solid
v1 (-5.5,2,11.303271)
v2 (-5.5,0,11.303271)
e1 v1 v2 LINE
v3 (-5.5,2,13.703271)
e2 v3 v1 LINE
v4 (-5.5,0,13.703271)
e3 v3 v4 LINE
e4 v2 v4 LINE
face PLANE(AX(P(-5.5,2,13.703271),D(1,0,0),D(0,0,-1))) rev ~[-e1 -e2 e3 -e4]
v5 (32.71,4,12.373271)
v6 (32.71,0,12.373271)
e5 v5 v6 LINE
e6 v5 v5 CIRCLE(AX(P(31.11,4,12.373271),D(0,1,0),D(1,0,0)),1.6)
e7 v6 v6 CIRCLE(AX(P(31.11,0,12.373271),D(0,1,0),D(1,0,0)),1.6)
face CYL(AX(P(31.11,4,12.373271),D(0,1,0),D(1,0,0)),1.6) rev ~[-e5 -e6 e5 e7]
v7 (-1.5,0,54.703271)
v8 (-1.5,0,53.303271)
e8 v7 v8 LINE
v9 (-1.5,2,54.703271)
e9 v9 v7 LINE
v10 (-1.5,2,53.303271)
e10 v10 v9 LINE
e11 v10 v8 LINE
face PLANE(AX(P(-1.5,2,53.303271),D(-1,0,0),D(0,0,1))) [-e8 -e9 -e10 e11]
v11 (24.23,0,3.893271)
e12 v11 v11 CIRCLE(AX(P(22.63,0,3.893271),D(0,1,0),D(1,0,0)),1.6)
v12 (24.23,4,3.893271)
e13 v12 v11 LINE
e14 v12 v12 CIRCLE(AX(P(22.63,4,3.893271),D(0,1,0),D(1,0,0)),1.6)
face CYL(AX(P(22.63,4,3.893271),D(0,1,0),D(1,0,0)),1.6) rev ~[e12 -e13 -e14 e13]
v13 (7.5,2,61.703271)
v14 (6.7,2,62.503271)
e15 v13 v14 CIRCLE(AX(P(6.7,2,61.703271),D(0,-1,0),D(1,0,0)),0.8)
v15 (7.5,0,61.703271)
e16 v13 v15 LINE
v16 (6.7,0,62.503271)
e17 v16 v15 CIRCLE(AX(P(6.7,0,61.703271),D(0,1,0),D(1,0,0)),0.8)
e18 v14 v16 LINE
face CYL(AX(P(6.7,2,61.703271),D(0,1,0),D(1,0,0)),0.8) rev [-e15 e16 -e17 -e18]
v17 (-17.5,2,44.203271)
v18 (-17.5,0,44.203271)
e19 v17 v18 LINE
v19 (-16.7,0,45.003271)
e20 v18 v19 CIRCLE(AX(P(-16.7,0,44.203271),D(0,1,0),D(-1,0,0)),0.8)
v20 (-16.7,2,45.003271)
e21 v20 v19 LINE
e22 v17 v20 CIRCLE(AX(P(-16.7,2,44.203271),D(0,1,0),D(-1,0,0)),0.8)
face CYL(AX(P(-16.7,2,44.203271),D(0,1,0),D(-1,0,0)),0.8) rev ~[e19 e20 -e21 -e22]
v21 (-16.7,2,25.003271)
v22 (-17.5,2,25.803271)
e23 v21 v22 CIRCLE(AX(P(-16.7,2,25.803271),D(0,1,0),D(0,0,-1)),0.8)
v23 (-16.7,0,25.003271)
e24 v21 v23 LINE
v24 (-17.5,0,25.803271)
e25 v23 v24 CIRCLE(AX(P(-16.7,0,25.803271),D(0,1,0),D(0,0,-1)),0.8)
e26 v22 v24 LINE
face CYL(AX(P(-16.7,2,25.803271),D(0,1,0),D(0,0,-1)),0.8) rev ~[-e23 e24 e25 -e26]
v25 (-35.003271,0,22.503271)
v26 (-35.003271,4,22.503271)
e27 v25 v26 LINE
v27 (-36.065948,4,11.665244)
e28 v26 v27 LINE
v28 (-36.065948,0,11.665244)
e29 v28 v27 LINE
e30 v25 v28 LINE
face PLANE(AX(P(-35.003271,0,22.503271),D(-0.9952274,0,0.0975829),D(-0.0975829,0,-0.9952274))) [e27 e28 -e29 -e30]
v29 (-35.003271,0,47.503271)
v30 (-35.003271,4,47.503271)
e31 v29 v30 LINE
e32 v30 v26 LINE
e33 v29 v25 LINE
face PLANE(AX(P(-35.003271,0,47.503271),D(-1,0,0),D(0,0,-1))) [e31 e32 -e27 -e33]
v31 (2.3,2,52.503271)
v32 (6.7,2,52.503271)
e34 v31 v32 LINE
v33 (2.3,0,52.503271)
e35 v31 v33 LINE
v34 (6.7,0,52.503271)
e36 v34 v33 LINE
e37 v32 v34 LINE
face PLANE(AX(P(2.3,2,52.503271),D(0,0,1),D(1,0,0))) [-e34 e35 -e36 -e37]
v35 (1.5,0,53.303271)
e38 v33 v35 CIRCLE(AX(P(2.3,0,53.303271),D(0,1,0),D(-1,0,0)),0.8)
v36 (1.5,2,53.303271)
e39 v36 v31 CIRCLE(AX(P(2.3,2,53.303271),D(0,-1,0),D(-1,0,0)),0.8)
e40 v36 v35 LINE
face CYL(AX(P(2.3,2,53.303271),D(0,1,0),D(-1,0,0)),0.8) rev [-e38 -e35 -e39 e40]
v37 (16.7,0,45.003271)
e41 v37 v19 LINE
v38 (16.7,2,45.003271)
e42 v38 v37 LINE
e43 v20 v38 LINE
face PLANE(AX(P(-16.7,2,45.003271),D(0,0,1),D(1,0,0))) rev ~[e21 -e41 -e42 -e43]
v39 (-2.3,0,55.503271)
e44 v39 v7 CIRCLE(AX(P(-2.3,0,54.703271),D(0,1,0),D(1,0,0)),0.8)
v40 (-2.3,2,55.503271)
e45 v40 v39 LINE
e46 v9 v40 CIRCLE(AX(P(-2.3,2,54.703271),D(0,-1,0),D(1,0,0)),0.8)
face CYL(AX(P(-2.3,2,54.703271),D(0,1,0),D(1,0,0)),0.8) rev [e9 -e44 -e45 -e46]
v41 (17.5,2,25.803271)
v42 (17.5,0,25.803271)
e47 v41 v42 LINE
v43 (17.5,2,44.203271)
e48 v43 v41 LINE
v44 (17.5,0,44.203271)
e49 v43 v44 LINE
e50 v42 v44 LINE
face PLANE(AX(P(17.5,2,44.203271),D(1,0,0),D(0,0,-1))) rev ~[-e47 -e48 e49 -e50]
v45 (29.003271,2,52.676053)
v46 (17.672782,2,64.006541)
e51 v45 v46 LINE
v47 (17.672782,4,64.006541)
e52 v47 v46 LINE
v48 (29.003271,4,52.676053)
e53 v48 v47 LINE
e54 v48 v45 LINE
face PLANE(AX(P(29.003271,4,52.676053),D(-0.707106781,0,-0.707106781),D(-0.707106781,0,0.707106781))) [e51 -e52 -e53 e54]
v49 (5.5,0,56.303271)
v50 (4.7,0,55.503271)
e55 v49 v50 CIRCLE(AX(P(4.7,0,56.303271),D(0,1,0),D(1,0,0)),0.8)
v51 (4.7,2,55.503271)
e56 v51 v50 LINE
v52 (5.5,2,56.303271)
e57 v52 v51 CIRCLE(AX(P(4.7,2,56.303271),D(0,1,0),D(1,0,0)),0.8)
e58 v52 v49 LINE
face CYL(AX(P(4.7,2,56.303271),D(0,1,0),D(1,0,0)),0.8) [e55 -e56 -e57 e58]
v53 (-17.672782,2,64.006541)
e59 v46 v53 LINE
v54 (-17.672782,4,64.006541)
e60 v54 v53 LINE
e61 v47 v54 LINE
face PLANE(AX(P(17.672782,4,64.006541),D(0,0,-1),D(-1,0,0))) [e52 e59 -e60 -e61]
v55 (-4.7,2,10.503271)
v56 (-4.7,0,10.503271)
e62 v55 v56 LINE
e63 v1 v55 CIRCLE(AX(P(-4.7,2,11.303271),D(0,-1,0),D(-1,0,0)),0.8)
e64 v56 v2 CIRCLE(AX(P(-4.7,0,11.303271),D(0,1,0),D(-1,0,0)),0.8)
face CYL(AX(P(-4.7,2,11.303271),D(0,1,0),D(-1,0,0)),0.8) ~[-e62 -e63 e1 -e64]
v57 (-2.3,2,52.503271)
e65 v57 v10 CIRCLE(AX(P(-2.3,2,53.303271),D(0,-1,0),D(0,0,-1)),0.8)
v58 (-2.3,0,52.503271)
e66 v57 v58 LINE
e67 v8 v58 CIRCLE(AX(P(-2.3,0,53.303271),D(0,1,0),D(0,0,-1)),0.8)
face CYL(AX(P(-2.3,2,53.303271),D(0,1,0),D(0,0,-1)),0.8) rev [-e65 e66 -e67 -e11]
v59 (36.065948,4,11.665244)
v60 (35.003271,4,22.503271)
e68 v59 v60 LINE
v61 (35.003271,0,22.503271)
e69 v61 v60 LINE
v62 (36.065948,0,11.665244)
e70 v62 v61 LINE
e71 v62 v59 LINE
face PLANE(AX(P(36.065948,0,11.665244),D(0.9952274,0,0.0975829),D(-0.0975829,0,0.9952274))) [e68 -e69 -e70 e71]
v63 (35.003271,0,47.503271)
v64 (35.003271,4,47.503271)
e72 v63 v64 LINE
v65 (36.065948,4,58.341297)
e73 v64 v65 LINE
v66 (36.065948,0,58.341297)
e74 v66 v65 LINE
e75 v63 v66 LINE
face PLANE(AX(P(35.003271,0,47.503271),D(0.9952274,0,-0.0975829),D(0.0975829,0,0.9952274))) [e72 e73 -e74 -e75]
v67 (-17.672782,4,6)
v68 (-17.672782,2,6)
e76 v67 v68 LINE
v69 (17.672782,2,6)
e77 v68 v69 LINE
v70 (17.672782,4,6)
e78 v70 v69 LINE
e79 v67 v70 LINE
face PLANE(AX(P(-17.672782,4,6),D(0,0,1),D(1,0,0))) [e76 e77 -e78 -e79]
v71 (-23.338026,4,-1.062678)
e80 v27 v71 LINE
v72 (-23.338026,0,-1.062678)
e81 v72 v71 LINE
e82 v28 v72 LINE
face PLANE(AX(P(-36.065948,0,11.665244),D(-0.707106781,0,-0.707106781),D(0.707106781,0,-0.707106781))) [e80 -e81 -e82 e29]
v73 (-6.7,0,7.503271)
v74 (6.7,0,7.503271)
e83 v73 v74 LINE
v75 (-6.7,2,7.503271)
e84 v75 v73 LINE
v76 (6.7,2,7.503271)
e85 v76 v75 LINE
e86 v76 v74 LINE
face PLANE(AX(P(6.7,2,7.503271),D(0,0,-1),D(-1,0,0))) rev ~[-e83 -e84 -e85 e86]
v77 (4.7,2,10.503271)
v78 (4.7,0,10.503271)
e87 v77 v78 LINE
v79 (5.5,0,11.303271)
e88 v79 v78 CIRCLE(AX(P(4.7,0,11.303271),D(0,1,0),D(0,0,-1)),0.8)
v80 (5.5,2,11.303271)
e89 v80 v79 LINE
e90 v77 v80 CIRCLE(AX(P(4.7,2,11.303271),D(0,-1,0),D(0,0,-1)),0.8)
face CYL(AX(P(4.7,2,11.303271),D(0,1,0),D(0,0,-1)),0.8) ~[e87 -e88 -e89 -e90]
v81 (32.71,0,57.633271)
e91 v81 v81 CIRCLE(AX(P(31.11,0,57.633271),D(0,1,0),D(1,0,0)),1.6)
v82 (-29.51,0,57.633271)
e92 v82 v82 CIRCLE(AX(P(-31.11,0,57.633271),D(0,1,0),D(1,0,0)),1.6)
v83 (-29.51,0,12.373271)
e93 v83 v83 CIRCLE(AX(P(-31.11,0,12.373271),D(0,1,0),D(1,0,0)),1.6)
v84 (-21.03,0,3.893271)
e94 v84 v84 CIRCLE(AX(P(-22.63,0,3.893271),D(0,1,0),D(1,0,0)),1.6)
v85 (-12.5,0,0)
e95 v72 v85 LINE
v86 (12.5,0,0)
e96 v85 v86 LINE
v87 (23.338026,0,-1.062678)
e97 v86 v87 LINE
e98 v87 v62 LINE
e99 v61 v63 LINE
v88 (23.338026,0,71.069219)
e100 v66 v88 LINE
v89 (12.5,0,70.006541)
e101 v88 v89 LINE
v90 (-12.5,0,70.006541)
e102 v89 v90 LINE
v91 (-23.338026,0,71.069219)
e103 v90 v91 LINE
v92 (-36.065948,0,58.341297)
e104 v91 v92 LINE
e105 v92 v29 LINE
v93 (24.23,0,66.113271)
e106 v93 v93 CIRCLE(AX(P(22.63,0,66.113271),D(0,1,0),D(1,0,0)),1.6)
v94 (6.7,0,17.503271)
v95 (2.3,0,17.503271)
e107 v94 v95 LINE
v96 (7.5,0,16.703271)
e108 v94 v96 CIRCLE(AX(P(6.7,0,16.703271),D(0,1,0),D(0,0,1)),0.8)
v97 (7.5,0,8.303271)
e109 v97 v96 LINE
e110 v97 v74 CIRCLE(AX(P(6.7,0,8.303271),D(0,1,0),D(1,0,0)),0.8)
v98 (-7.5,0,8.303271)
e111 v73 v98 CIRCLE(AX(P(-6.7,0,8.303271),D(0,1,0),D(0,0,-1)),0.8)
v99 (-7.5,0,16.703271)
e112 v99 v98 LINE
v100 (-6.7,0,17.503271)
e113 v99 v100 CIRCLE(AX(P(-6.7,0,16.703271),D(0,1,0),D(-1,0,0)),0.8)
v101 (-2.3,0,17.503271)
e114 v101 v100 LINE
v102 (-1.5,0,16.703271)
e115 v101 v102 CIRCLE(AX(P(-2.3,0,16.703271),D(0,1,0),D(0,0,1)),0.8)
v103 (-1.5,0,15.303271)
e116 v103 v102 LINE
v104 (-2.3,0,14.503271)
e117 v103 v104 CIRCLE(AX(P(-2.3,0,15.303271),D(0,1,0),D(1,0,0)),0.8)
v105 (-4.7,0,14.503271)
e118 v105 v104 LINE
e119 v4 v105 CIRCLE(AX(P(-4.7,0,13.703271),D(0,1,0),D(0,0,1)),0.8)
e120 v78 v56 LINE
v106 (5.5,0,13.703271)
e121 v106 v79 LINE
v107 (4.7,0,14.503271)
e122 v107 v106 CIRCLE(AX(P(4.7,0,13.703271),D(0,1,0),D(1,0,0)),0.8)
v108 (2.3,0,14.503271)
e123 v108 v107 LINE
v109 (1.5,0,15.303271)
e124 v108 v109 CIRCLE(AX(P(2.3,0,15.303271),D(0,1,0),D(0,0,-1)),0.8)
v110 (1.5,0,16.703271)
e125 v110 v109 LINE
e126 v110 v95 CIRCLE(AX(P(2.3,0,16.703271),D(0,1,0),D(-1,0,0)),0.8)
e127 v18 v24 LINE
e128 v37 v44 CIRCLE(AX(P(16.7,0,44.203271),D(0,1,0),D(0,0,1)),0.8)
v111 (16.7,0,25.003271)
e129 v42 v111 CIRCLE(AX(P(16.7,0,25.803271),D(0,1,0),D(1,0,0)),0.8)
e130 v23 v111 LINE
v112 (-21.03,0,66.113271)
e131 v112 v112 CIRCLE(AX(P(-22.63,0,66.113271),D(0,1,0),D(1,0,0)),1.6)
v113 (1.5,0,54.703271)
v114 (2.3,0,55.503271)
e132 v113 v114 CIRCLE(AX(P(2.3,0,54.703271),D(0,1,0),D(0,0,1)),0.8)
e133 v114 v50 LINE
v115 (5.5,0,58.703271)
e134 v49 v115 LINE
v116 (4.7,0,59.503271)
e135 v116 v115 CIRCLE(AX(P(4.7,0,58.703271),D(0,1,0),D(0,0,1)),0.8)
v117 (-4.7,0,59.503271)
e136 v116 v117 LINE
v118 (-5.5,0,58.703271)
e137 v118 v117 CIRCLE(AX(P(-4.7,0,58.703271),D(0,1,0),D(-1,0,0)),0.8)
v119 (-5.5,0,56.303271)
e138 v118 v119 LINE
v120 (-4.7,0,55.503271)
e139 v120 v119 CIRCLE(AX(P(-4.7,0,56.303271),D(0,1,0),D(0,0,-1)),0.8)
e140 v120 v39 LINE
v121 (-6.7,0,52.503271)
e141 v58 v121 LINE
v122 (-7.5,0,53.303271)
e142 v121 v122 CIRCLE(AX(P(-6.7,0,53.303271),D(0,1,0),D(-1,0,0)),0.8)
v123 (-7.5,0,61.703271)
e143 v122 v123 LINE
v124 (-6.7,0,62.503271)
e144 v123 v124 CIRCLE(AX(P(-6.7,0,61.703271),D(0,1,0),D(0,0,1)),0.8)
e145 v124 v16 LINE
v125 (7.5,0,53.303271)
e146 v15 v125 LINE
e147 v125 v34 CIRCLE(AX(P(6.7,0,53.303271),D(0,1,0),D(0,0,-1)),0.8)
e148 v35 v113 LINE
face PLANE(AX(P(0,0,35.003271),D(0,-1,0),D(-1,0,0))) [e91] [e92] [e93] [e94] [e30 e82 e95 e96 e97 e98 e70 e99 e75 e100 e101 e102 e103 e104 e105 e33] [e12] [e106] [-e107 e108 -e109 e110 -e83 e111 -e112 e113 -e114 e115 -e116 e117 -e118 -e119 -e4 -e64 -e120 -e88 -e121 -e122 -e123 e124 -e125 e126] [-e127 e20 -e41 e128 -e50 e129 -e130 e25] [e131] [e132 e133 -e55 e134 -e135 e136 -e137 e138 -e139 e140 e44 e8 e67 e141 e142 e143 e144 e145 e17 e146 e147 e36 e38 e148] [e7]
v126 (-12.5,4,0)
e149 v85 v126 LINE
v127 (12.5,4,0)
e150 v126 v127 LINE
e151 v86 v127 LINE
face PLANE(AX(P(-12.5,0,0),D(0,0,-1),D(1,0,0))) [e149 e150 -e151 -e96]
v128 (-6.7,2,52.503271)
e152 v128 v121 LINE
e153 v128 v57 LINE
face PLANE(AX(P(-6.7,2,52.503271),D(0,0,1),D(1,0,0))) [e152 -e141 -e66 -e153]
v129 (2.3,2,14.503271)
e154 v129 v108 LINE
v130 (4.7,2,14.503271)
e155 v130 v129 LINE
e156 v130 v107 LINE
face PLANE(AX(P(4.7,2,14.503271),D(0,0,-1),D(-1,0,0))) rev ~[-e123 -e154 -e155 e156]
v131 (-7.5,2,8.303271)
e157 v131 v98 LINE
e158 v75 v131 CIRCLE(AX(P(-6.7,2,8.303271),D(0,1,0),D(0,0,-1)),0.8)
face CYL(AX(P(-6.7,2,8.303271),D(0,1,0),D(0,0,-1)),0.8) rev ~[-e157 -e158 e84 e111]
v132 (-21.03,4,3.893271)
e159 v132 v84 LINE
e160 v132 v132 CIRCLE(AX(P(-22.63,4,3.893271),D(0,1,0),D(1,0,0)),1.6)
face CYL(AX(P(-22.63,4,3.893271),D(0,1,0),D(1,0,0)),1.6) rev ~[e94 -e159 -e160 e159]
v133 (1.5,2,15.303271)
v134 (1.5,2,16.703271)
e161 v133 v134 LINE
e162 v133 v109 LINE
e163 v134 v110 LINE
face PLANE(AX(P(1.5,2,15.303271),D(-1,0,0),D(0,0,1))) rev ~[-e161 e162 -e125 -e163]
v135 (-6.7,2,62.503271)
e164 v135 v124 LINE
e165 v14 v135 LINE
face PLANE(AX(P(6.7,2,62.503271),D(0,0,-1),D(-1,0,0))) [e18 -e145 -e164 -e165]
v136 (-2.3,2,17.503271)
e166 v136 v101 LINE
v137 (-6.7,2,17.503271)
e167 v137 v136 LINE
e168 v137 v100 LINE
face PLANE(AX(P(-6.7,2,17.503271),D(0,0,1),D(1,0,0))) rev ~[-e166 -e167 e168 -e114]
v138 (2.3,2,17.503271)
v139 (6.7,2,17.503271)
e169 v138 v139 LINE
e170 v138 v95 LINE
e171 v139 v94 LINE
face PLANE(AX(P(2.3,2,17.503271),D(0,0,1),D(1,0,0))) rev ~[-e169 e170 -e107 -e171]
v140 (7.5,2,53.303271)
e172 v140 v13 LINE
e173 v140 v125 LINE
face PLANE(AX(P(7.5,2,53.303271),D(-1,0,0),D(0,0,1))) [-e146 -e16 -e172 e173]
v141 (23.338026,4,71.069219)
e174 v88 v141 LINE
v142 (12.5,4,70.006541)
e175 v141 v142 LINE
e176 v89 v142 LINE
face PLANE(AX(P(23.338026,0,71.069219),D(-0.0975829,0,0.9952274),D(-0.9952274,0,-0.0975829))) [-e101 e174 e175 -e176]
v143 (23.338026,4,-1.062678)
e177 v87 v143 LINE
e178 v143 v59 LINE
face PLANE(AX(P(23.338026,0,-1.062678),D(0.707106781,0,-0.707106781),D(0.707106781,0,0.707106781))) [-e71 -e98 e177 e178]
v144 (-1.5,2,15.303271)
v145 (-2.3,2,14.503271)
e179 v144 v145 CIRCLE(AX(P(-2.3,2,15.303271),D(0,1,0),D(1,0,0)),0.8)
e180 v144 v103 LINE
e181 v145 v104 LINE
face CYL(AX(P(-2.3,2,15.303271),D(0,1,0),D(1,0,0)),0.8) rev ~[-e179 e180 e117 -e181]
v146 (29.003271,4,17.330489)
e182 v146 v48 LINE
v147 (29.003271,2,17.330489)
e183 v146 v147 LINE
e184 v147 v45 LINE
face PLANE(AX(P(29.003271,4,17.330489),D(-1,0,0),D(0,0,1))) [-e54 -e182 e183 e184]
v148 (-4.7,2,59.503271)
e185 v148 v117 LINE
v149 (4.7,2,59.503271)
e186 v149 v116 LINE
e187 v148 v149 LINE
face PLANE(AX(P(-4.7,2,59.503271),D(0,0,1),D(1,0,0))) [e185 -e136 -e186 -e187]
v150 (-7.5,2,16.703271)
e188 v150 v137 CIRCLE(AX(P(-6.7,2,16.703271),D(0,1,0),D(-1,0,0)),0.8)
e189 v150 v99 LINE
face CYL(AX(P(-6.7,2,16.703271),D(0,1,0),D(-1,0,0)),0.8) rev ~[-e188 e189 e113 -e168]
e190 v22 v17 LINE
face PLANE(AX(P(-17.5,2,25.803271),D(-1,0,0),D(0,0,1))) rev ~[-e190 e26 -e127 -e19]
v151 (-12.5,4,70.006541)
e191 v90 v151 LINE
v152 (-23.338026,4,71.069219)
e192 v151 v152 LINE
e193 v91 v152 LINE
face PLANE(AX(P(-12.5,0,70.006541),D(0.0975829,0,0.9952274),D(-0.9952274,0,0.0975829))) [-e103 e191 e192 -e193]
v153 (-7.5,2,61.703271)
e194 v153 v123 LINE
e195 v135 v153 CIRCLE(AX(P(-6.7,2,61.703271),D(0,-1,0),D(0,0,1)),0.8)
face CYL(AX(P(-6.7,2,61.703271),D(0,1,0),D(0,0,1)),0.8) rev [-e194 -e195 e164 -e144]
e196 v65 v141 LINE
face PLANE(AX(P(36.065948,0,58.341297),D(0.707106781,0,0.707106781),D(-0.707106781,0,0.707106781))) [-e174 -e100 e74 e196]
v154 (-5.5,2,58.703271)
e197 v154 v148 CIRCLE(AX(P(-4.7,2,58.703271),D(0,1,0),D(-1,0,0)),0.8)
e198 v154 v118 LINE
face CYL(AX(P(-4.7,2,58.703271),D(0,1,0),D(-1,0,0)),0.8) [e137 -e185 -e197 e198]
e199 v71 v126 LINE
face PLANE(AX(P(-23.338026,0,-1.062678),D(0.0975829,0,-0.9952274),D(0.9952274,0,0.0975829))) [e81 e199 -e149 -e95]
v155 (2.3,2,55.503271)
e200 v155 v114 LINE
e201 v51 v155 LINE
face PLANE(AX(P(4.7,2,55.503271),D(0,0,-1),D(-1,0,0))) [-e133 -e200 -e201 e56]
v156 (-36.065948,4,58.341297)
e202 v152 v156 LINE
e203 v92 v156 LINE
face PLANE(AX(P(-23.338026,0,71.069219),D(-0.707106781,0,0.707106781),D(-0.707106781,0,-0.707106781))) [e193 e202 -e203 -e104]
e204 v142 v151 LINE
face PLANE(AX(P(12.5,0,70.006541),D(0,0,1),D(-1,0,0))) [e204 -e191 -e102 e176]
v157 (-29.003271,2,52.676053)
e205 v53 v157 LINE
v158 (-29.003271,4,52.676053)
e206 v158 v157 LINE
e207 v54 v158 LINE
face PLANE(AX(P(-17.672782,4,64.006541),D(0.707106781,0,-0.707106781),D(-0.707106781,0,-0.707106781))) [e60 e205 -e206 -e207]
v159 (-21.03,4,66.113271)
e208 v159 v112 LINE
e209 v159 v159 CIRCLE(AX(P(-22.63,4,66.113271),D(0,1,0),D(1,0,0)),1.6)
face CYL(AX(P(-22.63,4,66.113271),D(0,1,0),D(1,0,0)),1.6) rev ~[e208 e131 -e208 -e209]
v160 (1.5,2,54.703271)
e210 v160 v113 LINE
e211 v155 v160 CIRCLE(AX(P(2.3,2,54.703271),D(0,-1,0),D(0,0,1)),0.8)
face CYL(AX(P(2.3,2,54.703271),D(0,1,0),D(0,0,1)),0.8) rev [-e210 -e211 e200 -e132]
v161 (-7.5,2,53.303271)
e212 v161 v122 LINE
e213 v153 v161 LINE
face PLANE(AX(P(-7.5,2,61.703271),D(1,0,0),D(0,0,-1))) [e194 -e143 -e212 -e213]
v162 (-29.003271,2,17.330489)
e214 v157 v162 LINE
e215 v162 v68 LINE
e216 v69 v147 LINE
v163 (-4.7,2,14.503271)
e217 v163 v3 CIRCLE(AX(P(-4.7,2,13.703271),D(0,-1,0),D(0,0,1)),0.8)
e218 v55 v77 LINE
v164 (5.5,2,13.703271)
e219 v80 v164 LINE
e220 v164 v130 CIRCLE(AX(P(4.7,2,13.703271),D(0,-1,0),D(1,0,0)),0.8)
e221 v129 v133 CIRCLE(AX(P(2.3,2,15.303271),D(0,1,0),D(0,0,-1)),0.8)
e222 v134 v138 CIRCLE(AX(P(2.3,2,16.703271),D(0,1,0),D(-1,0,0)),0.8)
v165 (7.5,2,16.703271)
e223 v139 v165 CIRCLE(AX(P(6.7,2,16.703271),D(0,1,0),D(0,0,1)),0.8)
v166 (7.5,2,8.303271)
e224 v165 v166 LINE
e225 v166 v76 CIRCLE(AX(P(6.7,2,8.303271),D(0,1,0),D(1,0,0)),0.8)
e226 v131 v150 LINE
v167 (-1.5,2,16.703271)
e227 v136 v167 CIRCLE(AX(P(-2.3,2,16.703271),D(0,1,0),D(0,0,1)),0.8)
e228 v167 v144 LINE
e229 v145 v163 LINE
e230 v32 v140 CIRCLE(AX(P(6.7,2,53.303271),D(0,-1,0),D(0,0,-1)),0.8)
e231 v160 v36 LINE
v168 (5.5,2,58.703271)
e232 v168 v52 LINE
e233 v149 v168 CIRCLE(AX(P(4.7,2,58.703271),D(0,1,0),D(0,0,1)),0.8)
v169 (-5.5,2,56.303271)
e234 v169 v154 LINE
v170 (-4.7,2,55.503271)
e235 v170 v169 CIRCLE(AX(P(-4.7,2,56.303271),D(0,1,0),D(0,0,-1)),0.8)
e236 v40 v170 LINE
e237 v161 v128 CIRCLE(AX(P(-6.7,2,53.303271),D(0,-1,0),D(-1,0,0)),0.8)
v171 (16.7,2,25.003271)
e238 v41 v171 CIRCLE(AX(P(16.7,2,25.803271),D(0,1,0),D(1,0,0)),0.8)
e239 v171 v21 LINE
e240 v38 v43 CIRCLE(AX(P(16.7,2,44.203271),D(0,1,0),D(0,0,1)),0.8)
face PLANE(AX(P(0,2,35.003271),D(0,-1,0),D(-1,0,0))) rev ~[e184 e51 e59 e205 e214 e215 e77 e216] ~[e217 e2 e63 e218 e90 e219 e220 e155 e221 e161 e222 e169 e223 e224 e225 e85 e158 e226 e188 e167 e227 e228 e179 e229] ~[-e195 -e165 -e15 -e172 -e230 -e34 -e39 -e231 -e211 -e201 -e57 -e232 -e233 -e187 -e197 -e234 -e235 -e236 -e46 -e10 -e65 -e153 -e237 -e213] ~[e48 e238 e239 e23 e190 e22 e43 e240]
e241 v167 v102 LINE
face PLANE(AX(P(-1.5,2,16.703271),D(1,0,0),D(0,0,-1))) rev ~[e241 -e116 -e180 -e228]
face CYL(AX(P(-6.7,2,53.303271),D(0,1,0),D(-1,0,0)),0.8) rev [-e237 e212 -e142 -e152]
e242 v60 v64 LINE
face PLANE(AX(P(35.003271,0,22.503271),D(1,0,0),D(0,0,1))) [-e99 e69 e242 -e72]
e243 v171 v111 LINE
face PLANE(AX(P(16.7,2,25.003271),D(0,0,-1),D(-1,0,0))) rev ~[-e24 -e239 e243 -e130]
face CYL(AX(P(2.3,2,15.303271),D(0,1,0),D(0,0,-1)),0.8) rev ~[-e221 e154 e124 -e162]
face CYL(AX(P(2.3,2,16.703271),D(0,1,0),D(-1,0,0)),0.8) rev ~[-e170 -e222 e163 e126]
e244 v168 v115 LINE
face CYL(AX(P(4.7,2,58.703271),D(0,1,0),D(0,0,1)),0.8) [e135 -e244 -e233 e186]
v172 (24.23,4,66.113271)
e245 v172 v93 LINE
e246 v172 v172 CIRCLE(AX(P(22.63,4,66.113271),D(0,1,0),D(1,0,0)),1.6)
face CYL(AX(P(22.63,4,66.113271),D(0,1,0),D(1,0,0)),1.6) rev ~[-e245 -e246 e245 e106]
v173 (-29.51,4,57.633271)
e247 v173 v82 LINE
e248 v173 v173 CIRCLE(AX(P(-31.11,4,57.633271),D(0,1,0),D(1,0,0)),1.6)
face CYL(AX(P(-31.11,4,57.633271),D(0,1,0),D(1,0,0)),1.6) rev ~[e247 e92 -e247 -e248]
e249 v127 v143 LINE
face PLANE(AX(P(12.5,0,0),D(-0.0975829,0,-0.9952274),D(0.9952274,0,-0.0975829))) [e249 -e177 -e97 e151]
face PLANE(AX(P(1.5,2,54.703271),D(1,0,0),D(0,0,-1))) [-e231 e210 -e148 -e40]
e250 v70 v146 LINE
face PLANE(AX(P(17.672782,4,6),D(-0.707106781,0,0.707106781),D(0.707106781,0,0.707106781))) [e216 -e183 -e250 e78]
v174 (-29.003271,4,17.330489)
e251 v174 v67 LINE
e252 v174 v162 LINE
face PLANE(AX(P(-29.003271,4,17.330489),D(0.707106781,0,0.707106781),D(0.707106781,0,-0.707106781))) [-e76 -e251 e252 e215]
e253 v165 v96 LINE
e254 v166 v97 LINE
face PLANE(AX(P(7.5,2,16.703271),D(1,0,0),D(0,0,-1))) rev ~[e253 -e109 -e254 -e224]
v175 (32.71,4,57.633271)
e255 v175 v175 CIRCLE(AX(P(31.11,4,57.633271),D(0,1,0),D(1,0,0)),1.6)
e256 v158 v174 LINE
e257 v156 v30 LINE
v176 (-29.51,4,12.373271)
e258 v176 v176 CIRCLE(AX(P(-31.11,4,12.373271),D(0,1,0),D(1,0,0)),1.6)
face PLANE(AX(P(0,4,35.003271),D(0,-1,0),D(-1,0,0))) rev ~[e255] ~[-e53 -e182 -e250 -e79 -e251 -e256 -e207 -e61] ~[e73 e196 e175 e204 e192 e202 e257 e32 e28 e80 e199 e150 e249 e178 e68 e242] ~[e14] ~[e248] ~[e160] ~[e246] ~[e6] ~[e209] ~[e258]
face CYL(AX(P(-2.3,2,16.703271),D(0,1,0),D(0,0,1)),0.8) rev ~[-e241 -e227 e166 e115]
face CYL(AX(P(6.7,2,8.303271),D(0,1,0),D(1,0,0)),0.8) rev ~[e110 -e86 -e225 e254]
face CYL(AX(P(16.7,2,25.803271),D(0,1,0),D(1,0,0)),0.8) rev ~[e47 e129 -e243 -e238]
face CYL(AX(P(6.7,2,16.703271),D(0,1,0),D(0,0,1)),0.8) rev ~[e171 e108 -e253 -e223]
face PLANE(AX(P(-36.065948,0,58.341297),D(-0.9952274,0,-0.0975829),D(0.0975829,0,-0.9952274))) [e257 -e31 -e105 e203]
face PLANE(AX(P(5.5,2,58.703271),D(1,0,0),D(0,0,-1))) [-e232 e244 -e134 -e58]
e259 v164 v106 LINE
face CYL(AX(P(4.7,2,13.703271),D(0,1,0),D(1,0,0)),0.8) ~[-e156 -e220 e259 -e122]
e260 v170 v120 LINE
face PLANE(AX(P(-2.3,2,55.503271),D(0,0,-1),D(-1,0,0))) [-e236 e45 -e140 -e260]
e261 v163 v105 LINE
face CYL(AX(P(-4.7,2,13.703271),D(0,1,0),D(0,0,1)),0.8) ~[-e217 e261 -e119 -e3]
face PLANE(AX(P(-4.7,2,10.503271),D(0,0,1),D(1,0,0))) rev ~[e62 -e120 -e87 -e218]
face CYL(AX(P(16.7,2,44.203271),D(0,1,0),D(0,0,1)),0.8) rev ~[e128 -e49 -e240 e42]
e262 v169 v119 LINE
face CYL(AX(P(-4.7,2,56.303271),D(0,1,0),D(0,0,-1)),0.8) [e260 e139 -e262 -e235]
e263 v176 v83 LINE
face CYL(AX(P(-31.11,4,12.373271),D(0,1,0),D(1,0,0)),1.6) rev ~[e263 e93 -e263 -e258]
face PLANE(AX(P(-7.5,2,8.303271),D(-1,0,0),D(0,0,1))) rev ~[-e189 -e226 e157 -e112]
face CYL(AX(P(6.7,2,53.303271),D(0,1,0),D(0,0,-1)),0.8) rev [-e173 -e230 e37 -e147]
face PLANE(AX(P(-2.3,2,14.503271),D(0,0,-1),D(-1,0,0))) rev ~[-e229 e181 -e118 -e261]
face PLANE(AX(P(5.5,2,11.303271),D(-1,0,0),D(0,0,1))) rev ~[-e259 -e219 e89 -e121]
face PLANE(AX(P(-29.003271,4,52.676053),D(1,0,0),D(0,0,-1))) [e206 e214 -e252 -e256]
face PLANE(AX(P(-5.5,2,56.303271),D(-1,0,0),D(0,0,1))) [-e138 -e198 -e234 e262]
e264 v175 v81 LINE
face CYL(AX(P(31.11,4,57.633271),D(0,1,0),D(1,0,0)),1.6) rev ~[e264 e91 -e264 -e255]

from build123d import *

# Parameters (mm, degrees)
BOSS_EXTRUDE1_DEPTH = 4
SKETCH2_R           = 1.6
CUT_EXTRUDE1_DEPTH  = 5
CUT_EXTRUDE2_DEPTH  = 2
CUT_EXTRUDE3_DEPTH  = 3


with BuildPart() as part:
    # Sketch1 → Boss-Extrude1 (new body)
    with BuildSketch(Plane(origin=(0, 0, 0), x_dir=(1, 0, 0), z_dir=(0, 1, 0))):
        Polygon((-12.5, 0), (12.5, 0), (23.338026386, 1.062677778), (36.065948447, -11.665244283), (35.003270669, -22.503270669), (35.003270669, -47.503270669), (36.065948447, -58.341297055), (23.338026386, -71.069219116), (12.5, -70.006541338), (-12.5, -70.006541338), (-23.338026386, -71.069219116), (-36.065948447, -58.341297055), (-35.003270669, -47.503270669), (-35.003270669, -22.503270669), (-36.065948447, -11.665244283), (-23.338026386, 1.062677778), align=None)
    extrude(amount=BOSS_EXTRUDE1_DEPTH)

    # Sketch2 → Cut-Extrude1 (cut, through all)
    with BuildSketch(Plane(origin=(0, 4, 0), x_dir=(1, 0, 0), z_dir=(0, 1, 0))):
        with Locations((22.63, -3.893270669)):
            Circle(SKETCH2_R)
        with Locations((31.11, -12.373270669)):
            Circle(SKETCH2_R)
        with Locations((-31.11, -12.373270669)):
            Circle(SKETCH2_R)
        with Locations((-22.63, -3.893270669)):
            Circle(SKETCH2_R)
        with Locations((31.11, -57.633270669)):
            Circle(SKETCH2_R)
        with Locations((22.63, -66.113270669)):
            Circle(SKETCH2_R)
        with Locations((-22.63, -66.113270669)):
            Circle(SKETCH2_R)
        with Locations((-31.11, -57.633270669)):
            Circle(SKETCH2_R)
    extrude(amount=-CUT_EXTRUDE1_DEPTH, mode=Mode.SUBTRACT)

    # Sketch3 → Cut-Extrude2 (cut)
    with BuildSketch(Plane(origin=(0, 4, 0), x_dir=(1, 0, 0), z_dir=(0, 1, 0))):
        Polygon((-17.672782103, -6), (17.672782103, -6), (29.003270669, -17.330488566), (29.003270669, -52.676052772), (17.672782103, -64.006541338), (-17.672782103, -64.006541338), (-29.003270669, -52.676052772), (-29.003270669, -17.330488566), align=None)
    extrude(amount=-CUT_EXTRUDE2_DEPTH, mode=Mode.SUBTRACT)

    # Sketch4 → Cut-Extrude3 (cut, through all)
    with BuildSketch(Plane(origin=(0, 2, 0), x_dir=(1, 0, 0), z_dir=(0, 1, 0))):
        with BuildLine():
            Line((-16.7, -45.003270669), (16.7, -45.003270669))
            ThreePointArc((16.7, -45.003270669), (17.265685425, -44.768956094), (17.5, -44.203270669))
            Line((17.5, -44.203270669), (17.5, -25.803270669))
            ThreePointArc((17.5, -25.803270669), (17.265685425, -25.237585244), (16.7, -25.003270669))
            Line((16.7, -25.003270669), (-16.7, -25.003270669))
            ThreePointArc((-16.7, -25.003270669), (-17.265685425, -25.237585244), (-17.5, -25.803270669))
            Line((-17.5, -25.803270669), (-17.5, -44.203270669))
            ThreePointArc((-17.5, -44.203270669), (-17.265685425, -44.768956094), (-16.7, -45.003270669))
        make_face()
        with BuildLine():
            Line((-1.5, -16.703270669), (-1.5, -15.303270669))
            ThreePointArc((-1.5, -15.303270669), (-1.734314575, -14.737585244), (-2.3, -14.503270669))
            Line((-2.3, -14.503270669), (-4.7, -14.503270669))
            ThreePointArc((-4.7, -14.503270669), (-5.265685425, -14.268956094), (-5.5, -13.703270669))
            Line((-5.5, -13.703270669), (-5.5, -11.303270669))
            ThreePointArc((-5.5, -11.303270669), (-5.265685425, -10.737585244), (-4.7, -10.503270669))
            Line((-4.7, -10.503270669), (4.7, -10.503270669))
            ThreePointArc((4.7, -10.503270669), (5.265685425, -10.737585244), (5.5, -11.303270669))
            Line((5.5, -11.303270669), (5.5, -13.703270669))
            ThreePointArc((5.5, -13.703270669), (5.265685425, -14.268956094), (4.7, -14.503270669))
            Line((4.7, -14.503270669), (2.3, -14.503270669))
            ThreePointArc((2.3, -14.503270669), (1.734314575, -14.737585244), (1.5, -15.303270669))
            Line((1.5, -15.303270669), (1.5, -16.703270669))
            ThreePointArc((1.5, -16.703270669), (1.734314575, -17.268956094), (2.3, -17.503270669))
            Line((2.3, -17.503270669), (6.7, -17.503270669))
            ThreePointArc((6.7, -17.503270669), (7.265685425, -17.268956094), (7.5, -16.703270669))
            Line((7.5, -16.703270669), (7.5, -8.303270669))
            ThreePointArc((7.5, -8.303270669), (7.265685425, -7.737585244), (6.7, -7.503270669))
            Line((6.7, -7.503270669), (-6.7, -7.503270669))
            ThreePointArc((-6.7, -7.503270669), (-7.265685425, -7.737585244), (-7.5, -8.303270669))
            Line((-7.5, -8.303270669), (-7.5, -16.703270669))
            ThreePointArc((-7.5, -16.703270669), (-7.265685425, -17.268956094), (-6.7, -17.503270669))
            Line((-6.7, -17.503270669), (-2.3, -17.503270669))
            ThreePointArc((-2.3, -17.503270669), (-1.734314575, -17.268956094), (-1.5, -16.703270669))
        make_face()
        with BuildLine():
            Line((-5.5, -56.303270669), (-5.5, -58.703270669))
            ThreePointArc((-5.5, -58.703270669), (-5.265685425, -59.268956094), (-4.7, -59.503270669))
            Line((-4.7, -59.503270669), (4.7, -59.503270669))
            ThreePointArc((4.7, -59.503270669), (5.265685425, -59.268956094), (5.5, -58.703270669))
            Line((5.5, -58.703270669), (5.5, -56.303270669))
            ThreePointArc((5.5, -56.303270669), (5.265685425, -55.737585244), (4.7, -55.503270669))
            Line((4.7, -55.503270669), (2.3, -55.503270669))
            ThreePointArc((2.3, -55.503270669), (1.734314575, -55.268956094), (1.5, -54.703270669))
            Line((1.5, -54.703270669), (1.5, -53.303270669))
            ThreePointArc((1.5, -53.303270669), (1.734314575, -52.737585244), (2.3, -52.503270669))
            Line((2.3, -52.503270669), (6.7, -52.503270669))
            ThreePointArc((6.7, -52.503270669), (7.265685425, -52.737585244), (7.5, -53.303270669))
            Line((7.5, -53.303270669), (7.5, -61.703270669))
            ThreePointArc((7.5, -61.703270669), (7.265685425, -62.268956094), (6.7, -62.503270669))
            Line((6.7, -62.503270669), (-6.7, -62.503270669))
            ThreePointArc((-6.7, -62.503270669), (-7.265685425, -62.268956094), (-7.5, -61.703270669))
            Line((-7.5, -61.703270669), (-7.5, -53.303270669))
            ThreePointArc((-7.5, -53.303270669), (-7.265685425, -52.737585244), (-6.7, -52.503270669))
            Line((-6.7, -52.503270669), (-2.3, -52.503270669))
            ThreePointArc((-2.3, -52.503270669), (-1.734314575, -52.737585244), (-1.5, -53.303270669))
            Line((-1.5, -53.303270669), (-1.5, -54.703270669))
            ThreePointArc((-1.5, -54.703270669), (-1.734314575, -55.268956094), (-2.3, -55.503270669))
            Line((-2.3, -55.503270669), (-4.7, -55.503270669))
            ThreePointArc((-4.7, -55.503270669), (-5.265685425, -55.737585244), (-5.5, -56.303270669))
        make_face()
    extrude(amount=-CUT_EXTRUDE3_DEPTH, mode=Mode.SUBTRACT)


solid = part.part
